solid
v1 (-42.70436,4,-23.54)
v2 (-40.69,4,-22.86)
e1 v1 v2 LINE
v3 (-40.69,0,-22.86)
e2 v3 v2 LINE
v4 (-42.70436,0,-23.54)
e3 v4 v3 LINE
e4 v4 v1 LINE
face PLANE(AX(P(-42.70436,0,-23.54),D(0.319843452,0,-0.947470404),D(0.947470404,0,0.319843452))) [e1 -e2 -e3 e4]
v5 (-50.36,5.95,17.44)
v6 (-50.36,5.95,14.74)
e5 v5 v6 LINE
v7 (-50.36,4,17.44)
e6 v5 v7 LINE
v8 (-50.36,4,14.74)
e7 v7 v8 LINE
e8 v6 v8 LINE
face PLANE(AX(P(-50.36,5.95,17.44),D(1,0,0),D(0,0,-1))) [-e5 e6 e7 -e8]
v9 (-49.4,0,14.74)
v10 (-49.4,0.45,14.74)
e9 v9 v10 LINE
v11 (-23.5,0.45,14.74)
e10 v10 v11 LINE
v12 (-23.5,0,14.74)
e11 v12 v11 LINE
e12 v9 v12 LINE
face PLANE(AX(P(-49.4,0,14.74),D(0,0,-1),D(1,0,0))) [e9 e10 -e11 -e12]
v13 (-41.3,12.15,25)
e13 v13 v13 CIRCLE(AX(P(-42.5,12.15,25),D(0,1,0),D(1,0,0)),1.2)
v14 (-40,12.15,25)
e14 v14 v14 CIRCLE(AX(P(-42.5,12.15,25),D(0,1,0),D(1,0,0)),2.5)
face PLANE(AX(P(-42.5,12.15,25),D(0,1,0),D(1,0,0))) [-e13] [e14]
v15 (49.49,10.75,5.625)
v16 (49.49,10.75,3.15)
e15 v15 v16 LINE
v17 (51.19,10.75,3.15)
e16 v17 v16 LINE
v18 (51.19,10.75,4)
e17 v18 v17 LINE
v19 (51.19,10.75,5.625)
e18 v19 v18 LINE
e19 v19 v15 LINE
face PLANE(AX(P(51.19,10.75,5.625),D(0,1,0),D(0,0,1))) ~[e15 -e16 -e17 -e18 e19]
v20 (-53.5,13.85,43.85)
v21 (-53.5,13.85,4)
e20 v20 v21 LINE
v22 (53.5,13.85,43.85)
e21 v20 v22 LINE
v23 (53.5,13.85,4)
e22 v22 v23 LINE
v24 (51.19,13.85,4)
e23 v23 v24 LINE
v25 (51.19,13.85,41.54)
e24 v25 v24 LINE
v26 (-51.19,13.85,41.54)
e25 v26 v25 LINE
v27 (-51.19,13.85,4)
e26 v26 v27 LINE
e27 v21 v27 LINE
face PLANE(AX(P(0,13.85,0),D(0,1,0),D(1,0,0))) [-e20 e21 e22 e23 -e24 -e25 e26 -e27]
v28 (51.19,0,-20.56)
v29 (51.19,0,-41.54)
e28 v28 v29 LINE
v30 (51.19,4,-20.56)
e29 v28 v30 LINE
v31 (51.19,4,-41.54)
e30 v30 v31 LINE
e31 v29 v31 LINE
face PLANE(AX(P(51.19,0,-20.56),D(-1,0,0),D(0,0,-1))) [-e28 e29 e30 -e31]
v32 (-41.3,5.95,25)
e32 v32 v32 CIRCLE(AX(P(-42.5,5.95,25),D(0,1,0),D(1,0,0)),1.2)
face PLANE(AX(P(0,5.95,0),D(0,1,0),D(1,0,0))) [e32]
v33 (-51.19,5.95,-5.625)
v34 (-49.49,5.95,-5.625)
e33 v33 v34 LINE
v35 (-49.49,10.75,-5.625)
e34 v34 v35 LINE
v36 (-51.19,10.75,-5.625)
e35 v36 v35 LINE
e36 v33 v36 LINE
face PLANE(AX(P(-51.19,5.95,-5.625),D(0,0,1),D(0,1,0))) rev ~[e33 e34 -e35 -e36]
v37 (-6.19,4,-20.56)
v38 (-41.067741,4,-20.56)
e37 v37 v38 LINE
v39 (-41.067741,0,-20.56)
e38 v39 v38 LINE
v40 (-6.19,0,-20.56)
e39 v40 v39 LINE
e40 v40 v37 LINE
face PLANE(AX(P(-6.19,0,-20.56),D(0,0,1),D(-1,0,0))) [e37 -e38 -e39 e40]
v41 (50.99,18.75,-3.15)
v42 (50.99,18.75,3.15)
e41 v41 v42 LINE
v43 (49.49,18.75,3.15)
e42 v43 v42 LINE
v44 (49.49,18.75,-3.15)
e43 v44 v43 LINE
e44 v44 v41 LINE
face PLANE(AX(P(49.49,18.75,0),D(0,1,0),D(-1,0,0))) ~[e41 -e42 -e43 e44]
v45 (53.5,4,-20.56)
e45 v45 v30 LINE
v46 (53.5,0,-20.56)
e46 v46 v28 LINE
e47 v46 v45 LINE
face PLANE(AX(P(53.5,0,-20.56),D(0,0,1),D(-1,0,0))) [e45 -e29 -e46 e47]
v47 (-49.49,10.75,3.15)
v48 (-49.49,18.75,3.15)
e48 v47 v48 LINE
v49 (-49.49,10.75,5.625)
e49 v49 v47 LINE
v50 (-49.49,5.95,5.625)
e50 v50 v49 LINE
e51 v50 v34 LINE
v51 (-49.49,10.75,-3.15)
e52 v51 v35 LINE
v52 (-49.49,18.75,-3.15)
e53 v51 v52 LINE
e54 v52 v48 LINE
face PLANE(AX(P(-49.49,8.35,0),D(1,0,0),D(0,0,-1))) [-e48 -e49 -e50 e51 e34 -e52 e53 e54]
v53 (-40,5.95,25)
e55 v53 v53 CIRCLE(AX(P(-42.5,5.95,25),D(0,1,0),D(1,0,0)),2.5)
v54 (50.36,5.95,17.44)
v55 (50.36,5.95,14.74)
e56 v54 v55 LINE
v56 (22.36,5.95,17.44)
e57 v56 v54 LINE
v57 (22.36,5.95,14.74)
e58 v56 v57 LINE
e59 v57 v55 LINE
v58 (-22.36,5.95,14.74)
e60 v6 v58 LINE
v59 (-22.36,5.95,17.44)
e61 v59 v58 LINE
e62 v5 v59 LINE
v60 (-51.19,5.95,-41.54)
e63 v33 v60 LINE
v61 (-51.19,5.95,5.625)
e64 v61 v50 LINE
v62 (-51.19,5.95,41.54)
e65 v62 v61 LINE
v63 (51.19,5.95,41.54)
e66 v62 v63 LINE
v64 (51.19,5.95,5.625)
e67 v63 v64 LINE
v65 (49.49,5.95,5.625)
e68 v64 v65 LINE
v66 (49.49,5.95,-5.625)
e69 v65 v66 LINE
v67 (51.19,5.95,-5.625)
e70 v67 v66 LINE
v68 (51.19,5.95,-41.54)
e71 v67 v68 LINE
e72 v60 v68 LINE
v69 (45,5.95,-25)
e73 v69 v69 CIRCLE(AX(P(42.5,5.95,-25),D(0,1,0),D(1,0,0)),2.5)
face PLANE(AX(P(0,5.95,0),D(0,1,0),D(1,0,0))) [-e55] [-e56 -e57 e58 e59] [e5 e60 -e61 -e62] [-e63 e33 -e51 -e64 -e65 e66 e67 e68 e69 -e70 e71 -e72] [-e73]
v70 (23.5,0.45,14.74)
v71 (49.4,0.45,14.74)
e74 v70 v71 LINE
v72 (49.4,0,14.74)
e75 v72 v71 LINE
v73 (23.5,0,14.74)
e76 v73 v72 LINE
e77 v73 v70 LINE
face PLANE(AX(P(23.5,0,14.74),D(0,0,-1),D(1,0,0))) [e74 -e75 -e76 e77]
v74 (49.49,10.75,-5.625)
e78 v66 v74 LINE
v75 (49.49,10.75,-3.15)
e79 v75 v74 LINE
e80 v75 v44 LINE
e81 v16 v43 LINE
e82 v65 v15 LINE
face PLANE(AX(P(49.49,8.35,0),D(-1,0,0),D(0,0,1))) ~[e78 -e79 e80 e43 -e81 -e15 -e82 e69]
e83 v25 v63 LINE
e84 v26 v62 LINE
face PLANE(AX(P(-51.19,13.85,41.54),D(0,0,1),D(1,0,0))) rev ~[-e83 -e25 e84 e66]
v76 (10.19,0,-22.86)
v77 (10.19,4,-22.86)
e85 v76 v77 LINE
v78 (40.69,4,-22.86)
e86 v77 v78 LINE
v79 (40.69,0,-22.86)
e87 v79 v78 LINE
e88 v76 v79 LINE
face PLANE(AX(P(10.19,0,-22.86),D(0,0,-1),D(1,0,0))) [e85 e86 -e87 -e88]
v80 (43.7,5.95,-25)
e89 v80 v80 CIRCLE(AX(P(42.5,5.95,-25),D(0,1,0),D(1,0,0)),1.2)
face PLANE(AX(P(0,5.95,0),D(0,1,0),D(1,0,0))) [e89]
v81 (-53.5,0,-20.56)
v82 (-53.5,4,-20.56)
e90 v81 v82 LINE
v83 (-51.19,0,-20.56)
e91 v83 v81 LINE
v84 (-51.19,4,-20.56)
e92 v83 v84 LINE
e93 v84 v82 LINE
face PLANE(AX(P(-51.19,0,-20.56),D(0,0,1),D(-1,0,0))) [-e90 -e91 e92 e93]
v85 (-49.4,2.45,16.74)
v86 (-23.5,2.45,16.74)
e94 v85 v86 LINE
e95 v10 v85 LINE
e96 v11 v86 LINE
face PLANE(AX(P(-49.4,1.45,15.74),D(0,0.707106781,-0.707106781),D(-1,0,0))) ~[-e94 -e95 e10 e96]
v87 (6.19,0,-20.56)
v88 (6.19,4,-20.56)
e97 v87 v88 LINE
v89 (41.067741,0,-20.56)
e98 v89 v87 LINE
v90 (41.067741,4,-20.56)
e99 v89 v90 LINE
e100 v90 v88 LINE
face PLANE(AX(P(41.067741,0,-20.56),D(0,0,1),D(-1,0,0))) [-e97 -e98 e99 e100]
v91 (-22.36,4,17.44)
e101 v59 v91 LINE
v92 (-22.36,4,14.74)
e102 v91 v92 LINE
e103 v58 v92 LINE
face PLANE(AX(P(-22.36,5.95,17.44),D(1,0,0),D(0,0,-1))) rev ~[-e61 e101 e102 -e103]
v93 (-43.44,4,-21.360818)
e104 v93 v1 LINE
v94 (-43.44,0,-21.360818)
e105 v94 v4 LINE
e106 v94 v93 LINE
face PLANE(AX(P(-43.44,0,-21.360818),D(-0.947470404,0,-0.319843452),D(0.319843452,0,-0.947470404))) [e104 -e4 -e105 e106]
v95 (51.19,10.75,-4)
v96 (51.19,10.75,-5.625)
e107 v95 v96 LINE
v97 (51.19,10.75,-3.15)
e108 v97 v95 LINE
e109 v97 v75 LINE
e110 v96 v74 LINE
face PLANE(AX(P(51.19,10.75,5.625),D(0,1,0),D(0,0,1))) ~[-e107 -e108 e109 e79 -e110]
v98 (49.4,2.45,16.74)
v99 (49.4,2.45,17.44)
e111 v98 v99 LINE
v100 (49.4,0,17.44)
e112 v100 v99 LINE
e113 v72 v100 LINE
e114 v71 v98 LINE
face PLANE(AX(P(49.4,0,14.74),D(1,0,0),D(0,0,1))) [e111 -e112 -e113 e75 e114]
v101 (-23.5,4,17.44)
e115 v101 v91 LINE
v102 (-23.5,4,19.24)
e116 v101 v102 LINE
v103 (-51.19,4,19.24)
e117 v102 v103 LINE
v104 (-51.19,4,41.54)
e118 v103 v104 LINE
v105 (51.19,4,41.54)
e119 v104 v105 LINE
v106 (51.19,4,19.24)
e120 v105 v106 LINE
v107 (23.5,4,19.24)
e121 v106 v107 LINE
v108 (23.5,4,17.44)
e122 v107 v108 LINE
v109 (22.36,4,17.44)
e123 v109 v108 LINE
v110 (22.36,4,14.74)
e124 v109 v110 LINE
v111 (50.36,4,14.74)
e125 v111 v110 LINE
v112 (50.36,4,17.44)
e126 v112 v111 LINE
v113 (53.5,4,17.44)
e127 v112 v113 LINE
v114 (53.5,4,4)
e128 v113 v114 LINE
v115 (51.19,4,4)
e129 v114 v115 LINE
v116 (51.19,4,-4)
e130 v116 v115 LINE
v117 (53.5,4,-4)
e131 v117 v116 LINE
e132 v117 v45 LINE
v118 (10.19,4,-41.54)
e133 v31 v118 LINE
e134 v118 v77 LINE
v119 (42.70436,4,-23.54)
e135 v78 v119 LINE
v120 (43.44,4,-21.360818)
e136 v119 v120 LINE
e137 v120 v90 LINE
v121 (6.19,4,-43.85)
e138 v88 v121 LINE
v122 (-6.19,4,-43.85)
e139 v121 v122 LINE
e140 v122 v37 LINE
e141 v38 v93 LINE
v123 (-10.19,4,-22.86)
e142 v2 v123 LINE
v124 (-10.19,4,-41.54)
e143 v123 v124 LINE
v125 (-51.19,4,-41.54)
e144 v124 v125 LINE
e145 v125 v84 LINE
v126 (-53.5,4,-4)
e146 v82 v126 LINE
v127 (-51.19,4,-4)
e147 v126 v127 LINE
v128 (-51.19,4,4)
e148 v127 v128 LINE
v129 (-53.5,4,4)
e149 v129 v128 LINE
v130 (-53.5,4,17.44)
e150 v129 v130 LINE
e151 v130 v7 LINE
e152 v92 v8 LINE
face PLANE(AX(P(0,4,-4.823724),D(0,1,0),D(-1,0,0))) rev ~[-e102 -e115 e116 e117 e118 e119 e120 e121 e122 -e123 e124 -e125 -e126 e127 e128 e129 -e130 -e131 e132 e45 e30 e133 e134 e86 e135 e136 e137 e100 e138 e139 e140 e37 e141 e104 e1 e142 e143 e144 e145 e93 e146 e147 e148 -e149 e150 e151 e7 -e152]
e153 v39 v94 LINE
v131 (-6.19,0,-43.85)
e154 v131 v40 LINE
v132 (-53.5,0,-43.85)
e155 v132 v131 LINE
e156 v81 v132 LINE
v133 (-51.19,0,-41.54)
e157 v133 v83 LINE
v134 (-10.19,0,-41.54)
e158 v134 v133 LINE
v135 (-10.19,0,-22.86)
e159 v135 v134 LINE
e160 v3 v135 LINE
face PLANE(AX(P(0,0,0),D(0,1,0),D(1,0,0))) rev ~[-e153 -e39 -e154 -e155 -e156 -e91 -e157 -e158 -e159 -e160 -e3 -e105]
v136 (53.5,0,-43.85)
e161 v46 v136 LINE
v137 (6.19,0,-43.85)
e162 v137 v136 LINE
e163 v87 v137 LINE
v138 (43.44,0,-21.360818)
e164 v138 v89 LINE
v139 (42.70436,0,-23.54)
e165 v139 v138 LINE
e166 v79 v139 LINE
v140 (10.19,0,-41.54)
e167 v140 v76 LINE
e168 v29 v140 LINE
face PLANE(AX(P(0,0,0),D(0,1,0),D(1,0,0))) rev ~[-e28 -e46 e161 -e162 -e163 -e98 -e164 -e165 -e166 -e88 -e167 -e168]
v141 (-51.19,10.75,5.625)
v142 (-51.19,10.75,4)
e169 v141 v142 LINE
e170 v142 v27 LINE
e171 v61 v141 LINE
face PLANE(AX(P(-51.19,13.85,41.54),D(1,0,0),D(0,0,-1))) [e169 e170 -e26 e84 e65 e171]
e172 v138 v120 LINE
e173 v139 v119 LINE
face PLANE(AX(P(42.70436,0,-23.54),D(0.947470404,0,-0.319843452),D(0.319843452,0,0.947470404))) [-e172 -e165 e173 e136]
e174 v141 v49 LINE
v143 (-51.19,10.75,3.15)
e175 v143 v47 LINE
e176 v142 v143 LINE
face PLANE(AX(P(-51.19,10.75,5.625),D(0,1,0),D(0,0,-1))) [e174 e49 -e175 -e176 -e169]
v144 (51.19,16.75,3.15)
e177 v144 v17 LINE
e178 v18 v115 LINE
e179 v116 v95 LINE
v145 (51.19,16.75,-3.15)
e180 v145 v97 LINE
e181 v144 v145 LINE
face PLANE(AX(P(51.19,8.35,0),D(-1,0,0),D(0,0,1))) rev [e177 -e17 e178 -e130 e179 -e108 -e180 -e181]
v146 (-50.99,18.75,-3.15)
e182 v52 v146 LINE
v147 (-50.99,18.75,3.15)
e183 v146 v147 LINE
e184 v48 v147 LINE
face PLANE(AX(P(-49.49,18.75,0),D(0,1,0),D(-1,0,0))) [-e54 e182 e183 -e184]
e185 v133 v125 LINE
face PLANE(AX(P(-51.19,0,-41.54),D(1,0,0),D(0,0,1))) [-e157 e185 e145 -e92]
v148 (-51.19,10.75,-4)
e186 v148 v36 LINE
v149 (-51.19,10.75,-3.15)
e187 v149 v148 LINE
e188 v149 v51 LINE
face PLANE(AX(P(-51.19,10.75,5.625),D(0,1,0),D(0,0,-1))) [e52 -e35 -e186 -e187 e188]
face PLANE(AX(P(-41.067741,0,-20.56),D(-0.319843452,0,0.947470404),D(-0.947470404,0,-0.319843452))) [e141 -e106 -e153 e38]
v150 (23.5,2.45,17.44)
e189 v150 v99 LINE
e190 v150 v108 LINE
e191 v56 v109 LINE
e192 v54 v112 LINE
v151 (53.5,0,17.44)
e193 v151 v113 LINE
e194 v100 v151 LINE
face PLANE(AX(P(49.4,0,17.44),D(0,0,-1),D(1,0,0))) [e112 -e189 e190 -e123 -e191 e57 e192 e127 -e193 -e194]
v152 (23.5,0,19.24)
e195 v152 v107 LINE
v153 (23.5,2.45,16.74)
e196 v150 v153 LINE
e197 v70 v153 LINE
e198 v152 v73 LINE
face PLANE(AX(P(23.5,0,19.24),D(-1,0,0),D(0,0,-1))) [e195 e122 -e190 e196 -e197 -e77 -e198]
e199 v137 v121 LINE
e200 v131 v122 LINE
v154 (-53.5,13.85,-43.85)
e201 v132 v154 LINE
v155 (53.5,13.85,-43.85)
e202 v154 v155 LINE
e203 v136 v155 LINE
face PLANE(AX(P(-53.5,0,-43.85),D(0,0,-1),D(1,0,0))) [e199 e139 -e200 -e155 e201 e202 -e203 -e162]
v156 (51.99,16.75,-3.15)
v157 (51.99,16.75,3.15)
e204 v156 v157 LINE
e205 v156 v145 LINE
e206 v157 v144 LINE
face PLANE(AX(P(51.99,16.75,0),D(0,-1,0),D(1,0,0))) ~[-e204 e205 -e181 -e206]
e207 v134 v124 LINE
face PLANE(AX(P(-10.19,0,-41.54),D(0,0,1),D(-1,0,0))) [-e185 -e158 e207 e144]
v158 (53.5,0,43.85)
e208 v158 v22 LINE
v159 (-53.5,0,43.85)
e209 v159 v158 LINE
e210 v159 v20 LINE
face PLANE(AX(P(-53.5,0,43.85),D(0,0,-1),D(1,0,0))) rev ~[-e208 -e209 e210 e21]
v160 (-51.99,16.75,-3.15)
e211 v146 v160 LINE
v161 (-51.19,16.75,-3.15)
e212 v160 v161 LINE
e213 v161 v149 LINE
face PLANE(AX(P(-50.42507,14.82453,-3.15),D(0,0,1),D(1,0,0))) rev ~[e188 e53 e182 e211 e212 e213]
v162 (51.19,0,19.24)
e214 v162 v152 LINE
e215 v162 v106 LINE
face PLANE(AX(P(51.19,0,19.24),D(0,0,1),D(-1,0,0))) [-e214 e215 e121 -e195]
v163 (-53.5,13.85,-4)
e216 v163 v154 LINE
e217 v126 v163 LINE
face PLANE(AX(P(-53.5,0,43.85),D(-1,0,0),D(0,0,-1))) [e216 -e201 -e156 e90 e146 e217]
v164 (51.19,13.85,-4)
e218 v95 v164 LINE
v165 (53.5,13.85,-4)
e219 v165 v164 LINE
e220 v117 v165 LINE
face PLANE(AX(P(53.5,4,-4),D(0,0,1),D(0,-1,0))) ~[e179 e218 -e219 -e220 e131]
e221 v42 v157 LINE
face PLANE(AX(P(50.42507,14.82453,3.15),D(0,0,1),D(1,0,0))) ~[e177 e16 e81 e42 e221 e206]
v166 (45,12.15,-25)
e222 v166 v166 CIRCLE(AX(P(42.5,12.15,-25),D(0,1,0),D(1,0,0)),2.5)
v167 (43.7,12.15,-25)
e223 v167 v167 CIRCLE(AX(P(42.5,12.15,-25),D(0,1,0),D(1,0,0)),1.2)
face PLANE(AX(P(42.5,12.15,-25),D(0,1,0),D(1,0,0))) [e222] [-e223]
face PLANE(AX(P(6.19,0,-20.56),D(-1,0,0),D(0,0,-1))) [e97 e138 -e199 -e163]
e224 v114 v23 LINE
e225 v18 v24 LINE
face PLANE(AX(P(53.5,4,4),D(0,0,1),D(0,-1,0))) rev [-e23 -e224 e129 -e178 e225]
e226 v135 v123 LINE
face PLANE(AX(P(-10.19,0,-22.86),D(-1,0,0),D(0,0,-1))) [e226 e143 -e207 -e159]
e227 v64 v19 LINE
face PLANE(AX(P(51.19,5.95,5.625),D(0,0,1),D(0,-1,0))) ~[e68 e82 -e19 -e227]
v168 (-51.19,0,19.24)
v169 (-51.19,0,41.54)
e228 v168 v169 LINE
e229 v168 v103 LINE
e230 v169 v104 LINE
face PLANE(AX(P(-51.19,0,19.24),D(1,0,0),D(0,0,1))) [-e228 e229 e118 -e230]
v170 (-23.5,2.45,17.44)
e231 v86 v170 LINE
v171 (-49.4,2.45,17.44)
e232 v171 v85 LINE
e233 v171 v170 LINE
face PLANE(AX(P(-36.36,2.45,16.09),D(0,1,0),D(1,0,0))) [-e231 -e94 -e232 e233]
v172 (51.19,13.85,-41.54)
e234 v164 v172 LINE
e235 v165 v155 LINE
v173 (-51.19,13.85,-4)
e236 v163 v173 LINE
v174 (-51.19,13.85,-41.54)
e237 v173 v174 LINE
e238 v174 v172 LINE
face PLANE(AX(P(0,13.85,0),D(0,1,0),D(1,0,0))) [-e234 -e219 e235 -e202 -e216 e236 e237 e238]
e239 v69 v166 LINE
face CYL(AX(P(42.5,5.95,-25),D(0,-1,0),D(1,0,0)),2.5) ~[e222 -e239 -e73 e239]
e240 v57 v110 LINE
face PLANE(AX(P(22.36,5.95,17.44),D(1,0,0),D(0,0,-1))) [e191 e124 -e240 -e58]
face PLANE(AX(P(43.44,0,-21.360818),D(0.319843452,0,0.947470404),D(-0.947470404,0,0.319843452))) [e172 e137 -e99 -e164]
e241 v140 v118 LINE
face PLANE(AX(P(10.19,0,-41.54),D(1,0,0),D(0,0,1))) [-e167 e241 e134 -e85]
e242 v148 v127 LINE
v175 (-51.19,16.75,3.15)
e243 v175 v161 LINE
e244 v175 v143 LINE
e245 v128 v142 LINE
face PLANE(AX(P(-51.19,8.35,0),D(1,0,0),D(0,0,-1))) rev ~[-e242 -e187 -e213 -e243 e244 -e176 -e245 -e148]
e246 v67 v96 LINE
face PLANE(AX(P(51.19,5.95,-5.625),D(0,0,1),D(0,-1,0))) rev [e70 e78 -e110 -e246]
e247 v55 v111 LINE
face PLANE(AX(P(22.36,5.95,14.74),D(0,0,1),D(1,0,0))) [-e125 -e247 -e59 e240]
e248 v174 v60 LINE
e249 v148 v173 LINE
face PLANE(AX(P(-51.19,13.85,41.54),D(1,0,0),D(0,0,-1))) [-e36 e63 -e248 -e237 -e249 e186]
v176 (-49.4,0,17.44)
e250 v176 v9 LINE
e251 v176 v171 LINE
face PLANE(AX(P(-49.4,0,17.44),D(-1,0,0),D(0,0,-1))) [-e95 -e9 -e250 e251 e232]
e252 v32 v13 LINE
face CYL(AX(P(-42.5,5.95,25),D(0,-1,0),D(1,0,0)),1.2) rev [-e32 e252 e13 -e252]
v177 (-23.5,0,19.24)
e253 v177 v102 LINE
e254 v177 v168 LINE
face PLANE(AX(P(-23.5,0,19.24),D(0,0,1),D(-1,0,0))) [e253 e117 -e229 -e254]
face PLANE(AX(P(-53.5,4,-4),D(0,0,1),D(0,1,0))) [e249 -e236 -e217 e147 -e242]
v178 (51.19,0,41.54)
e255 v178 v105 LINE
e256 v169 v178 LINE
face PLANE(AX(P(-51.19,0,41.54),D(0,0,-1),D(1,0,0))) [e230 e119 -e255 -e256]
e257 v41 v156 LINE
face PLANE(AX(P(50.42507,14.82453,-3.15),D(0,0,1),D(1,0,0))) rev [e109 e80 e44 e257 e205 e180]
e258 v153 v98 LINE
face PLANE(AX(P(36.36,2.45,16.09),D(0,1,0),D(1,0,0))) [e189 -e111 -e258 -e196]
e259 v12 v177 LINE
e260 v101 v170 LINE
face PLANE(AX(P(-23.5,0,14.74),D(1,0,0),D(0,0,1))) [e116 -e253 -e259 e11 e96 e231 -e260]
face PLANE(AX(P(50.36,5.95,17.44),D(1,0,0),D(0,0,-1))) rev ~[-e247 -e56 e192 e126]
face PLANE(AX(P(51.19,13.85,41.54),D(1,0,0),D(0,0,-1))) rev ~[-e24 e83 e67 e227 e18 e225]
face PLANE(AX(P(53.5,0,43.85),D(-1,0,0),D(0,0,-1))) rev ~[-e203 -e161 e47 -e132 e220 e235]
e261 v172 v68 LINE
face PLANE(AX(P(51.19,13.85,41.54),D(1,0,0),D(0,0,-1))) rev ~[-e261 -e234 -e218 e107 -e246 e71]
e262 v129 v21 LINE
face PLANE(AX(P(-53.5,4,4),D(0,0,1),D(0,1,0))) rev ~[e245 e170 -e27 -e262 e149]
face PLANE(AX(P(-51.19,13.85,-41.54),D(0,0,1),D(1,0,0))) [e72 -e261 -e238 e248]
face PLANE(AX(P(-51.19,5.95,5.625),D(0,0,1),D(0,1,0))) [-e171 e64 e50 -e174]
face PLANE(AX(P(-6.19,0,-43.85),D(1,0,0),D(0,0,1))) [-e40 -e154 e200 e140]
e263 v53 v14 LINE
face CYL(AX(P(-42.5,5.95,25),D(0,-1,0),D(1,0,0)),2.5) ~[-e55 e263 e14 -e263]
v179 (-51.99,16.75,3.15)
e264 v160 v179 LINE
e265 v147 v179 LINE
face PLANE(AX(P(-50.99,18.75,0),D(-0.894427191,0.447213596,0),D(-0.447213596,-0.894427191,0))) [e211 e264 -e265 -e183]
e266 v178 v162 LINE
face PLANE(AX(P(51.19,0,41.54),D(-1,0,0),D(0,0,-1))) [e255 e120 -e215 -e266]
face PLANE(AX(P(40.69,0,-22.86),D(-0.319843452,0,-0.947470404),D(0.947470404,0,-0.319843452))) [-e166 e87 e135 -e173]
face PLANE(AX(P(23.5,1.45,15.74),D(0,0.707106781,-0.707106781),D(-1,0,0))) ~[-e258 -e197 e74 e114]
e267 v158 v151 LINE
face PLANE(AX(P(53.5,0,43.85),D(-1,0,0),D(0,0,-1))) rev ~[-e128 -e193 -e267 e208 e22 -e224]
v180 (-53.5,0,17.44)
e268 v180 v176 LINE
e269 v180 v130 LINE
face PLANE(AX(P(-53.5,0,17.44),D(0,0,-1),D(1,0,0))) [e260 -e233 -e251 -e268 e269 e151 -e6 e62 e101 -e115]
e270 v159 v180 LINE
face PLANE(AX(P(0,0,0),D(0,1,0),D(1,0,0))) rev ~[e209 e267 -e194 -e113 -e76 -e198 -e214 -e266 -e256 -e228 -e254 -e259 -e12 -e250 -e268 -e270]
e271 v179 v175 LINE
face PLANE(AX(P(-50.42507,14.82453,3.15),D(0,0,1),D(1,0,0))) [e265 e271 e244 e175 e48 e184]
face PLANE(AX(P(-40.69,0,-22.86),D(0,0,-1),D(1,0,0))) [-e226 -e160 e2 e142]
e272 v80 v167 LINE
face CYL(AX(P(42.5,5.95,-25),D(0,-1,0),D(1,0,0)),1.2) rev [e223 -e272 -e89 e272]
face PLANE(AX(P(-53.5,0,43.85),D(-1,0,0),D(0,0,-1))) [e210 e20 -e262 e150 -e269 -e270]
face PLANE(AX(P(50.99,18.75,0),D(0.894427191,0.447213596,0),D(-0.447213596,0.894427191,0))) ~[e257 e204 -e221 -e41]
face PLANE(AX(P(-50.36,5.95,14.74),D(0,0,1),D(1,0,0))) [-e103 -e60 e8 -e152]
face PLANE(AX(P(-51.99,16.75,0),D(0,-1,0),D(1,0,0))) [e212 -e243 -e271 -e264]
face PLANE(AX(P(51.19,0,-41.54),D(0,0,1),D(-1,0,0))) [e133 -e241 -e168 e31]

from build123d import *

# Parameters (mm, degrees)
SKETCH1_W           = 107
SKETCH1_H           = 87.7
BOSS_EXTRUDE1_DEPTH = 13.85
SKETCH2_W           = 102.38
SKETCH2_H           = 83.08
CUT_EXTRUDE1_DEPTH  = 7.9
CUT_EXTRUDE2_DEPTH  = 4
SKETCH4_R           = 2.5
SKETCH4_R_2         = 1.2
BOSS_EXTRUDE2_DEPTH = 6.2
SKETCH5_W           = 28
SKETCH5_H           = 2.7
CUT_EXTRUDE3_DEPTH  = 3.5
CHAMFER1_SIZE       = 2
SKETCH6_W           = 8
SKETCH6_H           = 9.85
CUT_EXTRUDE4_DEPTH  = 2.31
SKETCH7_W           = 11.25
SKETCH7_H           = 4.8
BOSS_EXTRUDE3_DEPTH = 1.7
BOSS_EXTRUDE4_DEPTH = 3.15


with BuildPart() as part:
    # Sketch1 → Boss-Extrude1 (new body)
    with BuildSketch(Plane(origin=(0, 0, 0), x_dir=(1, 0, 0), z_dir=(0, 1, 0))):
        Rectangle(SKETCH1_W, SKETCH1_H)
    extrude(amount=BOSS_EXTRUDE1_DEPTH)

    # Sketch2 → Cut-Extrude1 (cut)
    with BuildSketch(Plane(origin=(0, 13.85, 0), x_dir=(1, 0, 0), z_dir=(0, 1, 0))):
        Rectangle(SKETCH2_W, SKETCH2_H)
    extrude(amount=-CUT_EXTRUDE1_DEPTH, mode=Mode.SUBTRACT)

    # Sketch3 → Cut-Extrude2 (cut)
    with BuildSketch(Plane.XZ):
        Polygon((-51.19, 41.54), (51.19, 41.54), (51.19, 19.24), (23.5, 19.24), (23.5, 14.74), (49.4, 14.74), (49.4, 17.44), (53.5, 17.44), (53.5, -20.56), (51.19, -20.56), (51.19, -41.54), (10.19, -41.54), (10.19, -22.86), (40.69, -22.86), (42.704360061, -23.54), (43.44, -21.360818071), (41.067741267, -20.56), (6.19, -20.56), (6.19, -43.85), (-6.19, -43.85), (-6.19, -20.56), (-41.067741267, -20.56), (-43.44, -21.360818071), (-42.704360061, -23.54), (-40.69, -22.86), (-10.19, -22.86), (-10.19, -41.54), (-51.19, -41.54), (-51.19, -20.56), (-53.5, -20.56), (-53.5, 17.44), (-49.4, 17.44), (-49.4, 14.74), (-23.5, 14.74), (-23.5, 19.24), (-51.19, 19.24), align=None)
    extrude(amount=-CUT_EXTRUDE2_DEPTH, mode=Mode.SUBTRACT)

    # Sketch4 → Boss-Extrude2 (add)
    with BuildSketch(Plane(origin=(0, 5.95, 0), x_dir=(1, 0, 0), z_dir=(0, 1, 0))):
        with Locations((-42.5, -25)):
            Circle(SKETCH4_R)
        with Locations((-42.5, -25)):
            Circle(SKETCH4_R_2, mode=Mode.SUBTRACT)
        with Locations((42.5, 25)):
            Circle(SKETCH4_R)
        with Locations((42.5, 25)):
            Circle(SKETCH4_R_2, mode=Mode.SUBTRACT)
    extrude(amount=BOSS_EXTRUDE2_DEPTH)

    # Sketch5 → Cut-Extrude3 (cut)
    with BuildSketch(Plane(origin=(0, 5.95, 0), x_dir=(1, 0, 0), z_dir=(0, 1, 0))):
        with Locations((-36.36, -16.09)):
            Rectangle(SKETCH5_W, SKETCH5_H)
        with Locations((36.36, -16.09)):
            Rectangle(SKETCH5_W, SKETCH5_H)
    extrude(amount=-CUT_EXTRUDE3_DEPTH, mode=Mode.SUBTRACT)

    # Chamfer1
    chamfer1_edges = [part.edges().sort_by_distance(p)[0] for p in [
        (-36.45, 2.45, 14.74),
        (36.45, 2.45, 14.74),
    ]]
    chamfer(chamfer1_edges, length=CHAMFER1_SIZE)

    # Sketch6 → Cut-Extrude4 (cut)
    with BuildSketch(Plane.ZY.offset(53.5)):
        with Locations((0, 8.925)):
            Rectangle(SKETCH6_W, SKETCH6_H)
    cut_extrude4 = extrude(amount=-CUT_EXTRUDE4_DEPTH, mode=Mode.SUBTRACT)

    # Sketch7 → Boss-Extrude3 (add)
    with BuildSketch(Plane(origin=(-51.19, 0, 0), x_dir=(0, 0, -1), z_dir=(1, 0, 0))):
        with Locations((0, 8.35)):
            Rectangle(SKETCH7_W, SKETCH7_H)
    boss_extrude3 = extrude(amount=BOSS_EXTRUDE3_DEPTH)

    # Sketch8 → Boss-Extrude4 (add, symmetric)
    with BuildSketch(Plane.XY):
        Polygon((-49.49, 10.75), (-49.49, 18.75), (-50.99, 18.75), (-51.99, 16.75), (-51.19, 16.75), (-51.19, 10.75), align=None)
    boss_extrude4 = extrude(amount=BOSS_EXTRUDE4_DEPTH, both=True)

    # Mirror1: Cut-Extrude4, Boss-Extrude3, Boss-Extrude4 across plane
    add(cut_extrude4.mirror(Plane(origin=(0, 0, 0), x_dir=(0, 0, 1), z_dir=(1, 0, 0))), mode=Mode.SUBTRACT)
    add(boss_extrude3.mirror(Plane(origin=(0, 0, 0), x_dir=(0, 0, 1), z_dir=(1, 0, 0))))
    add(boss_extrude4.mirror(Plane(origin=(0, 0, 0), x_dir=(0, 0, 1), z_dir=(1, 0, 0))))


solid = part.part
